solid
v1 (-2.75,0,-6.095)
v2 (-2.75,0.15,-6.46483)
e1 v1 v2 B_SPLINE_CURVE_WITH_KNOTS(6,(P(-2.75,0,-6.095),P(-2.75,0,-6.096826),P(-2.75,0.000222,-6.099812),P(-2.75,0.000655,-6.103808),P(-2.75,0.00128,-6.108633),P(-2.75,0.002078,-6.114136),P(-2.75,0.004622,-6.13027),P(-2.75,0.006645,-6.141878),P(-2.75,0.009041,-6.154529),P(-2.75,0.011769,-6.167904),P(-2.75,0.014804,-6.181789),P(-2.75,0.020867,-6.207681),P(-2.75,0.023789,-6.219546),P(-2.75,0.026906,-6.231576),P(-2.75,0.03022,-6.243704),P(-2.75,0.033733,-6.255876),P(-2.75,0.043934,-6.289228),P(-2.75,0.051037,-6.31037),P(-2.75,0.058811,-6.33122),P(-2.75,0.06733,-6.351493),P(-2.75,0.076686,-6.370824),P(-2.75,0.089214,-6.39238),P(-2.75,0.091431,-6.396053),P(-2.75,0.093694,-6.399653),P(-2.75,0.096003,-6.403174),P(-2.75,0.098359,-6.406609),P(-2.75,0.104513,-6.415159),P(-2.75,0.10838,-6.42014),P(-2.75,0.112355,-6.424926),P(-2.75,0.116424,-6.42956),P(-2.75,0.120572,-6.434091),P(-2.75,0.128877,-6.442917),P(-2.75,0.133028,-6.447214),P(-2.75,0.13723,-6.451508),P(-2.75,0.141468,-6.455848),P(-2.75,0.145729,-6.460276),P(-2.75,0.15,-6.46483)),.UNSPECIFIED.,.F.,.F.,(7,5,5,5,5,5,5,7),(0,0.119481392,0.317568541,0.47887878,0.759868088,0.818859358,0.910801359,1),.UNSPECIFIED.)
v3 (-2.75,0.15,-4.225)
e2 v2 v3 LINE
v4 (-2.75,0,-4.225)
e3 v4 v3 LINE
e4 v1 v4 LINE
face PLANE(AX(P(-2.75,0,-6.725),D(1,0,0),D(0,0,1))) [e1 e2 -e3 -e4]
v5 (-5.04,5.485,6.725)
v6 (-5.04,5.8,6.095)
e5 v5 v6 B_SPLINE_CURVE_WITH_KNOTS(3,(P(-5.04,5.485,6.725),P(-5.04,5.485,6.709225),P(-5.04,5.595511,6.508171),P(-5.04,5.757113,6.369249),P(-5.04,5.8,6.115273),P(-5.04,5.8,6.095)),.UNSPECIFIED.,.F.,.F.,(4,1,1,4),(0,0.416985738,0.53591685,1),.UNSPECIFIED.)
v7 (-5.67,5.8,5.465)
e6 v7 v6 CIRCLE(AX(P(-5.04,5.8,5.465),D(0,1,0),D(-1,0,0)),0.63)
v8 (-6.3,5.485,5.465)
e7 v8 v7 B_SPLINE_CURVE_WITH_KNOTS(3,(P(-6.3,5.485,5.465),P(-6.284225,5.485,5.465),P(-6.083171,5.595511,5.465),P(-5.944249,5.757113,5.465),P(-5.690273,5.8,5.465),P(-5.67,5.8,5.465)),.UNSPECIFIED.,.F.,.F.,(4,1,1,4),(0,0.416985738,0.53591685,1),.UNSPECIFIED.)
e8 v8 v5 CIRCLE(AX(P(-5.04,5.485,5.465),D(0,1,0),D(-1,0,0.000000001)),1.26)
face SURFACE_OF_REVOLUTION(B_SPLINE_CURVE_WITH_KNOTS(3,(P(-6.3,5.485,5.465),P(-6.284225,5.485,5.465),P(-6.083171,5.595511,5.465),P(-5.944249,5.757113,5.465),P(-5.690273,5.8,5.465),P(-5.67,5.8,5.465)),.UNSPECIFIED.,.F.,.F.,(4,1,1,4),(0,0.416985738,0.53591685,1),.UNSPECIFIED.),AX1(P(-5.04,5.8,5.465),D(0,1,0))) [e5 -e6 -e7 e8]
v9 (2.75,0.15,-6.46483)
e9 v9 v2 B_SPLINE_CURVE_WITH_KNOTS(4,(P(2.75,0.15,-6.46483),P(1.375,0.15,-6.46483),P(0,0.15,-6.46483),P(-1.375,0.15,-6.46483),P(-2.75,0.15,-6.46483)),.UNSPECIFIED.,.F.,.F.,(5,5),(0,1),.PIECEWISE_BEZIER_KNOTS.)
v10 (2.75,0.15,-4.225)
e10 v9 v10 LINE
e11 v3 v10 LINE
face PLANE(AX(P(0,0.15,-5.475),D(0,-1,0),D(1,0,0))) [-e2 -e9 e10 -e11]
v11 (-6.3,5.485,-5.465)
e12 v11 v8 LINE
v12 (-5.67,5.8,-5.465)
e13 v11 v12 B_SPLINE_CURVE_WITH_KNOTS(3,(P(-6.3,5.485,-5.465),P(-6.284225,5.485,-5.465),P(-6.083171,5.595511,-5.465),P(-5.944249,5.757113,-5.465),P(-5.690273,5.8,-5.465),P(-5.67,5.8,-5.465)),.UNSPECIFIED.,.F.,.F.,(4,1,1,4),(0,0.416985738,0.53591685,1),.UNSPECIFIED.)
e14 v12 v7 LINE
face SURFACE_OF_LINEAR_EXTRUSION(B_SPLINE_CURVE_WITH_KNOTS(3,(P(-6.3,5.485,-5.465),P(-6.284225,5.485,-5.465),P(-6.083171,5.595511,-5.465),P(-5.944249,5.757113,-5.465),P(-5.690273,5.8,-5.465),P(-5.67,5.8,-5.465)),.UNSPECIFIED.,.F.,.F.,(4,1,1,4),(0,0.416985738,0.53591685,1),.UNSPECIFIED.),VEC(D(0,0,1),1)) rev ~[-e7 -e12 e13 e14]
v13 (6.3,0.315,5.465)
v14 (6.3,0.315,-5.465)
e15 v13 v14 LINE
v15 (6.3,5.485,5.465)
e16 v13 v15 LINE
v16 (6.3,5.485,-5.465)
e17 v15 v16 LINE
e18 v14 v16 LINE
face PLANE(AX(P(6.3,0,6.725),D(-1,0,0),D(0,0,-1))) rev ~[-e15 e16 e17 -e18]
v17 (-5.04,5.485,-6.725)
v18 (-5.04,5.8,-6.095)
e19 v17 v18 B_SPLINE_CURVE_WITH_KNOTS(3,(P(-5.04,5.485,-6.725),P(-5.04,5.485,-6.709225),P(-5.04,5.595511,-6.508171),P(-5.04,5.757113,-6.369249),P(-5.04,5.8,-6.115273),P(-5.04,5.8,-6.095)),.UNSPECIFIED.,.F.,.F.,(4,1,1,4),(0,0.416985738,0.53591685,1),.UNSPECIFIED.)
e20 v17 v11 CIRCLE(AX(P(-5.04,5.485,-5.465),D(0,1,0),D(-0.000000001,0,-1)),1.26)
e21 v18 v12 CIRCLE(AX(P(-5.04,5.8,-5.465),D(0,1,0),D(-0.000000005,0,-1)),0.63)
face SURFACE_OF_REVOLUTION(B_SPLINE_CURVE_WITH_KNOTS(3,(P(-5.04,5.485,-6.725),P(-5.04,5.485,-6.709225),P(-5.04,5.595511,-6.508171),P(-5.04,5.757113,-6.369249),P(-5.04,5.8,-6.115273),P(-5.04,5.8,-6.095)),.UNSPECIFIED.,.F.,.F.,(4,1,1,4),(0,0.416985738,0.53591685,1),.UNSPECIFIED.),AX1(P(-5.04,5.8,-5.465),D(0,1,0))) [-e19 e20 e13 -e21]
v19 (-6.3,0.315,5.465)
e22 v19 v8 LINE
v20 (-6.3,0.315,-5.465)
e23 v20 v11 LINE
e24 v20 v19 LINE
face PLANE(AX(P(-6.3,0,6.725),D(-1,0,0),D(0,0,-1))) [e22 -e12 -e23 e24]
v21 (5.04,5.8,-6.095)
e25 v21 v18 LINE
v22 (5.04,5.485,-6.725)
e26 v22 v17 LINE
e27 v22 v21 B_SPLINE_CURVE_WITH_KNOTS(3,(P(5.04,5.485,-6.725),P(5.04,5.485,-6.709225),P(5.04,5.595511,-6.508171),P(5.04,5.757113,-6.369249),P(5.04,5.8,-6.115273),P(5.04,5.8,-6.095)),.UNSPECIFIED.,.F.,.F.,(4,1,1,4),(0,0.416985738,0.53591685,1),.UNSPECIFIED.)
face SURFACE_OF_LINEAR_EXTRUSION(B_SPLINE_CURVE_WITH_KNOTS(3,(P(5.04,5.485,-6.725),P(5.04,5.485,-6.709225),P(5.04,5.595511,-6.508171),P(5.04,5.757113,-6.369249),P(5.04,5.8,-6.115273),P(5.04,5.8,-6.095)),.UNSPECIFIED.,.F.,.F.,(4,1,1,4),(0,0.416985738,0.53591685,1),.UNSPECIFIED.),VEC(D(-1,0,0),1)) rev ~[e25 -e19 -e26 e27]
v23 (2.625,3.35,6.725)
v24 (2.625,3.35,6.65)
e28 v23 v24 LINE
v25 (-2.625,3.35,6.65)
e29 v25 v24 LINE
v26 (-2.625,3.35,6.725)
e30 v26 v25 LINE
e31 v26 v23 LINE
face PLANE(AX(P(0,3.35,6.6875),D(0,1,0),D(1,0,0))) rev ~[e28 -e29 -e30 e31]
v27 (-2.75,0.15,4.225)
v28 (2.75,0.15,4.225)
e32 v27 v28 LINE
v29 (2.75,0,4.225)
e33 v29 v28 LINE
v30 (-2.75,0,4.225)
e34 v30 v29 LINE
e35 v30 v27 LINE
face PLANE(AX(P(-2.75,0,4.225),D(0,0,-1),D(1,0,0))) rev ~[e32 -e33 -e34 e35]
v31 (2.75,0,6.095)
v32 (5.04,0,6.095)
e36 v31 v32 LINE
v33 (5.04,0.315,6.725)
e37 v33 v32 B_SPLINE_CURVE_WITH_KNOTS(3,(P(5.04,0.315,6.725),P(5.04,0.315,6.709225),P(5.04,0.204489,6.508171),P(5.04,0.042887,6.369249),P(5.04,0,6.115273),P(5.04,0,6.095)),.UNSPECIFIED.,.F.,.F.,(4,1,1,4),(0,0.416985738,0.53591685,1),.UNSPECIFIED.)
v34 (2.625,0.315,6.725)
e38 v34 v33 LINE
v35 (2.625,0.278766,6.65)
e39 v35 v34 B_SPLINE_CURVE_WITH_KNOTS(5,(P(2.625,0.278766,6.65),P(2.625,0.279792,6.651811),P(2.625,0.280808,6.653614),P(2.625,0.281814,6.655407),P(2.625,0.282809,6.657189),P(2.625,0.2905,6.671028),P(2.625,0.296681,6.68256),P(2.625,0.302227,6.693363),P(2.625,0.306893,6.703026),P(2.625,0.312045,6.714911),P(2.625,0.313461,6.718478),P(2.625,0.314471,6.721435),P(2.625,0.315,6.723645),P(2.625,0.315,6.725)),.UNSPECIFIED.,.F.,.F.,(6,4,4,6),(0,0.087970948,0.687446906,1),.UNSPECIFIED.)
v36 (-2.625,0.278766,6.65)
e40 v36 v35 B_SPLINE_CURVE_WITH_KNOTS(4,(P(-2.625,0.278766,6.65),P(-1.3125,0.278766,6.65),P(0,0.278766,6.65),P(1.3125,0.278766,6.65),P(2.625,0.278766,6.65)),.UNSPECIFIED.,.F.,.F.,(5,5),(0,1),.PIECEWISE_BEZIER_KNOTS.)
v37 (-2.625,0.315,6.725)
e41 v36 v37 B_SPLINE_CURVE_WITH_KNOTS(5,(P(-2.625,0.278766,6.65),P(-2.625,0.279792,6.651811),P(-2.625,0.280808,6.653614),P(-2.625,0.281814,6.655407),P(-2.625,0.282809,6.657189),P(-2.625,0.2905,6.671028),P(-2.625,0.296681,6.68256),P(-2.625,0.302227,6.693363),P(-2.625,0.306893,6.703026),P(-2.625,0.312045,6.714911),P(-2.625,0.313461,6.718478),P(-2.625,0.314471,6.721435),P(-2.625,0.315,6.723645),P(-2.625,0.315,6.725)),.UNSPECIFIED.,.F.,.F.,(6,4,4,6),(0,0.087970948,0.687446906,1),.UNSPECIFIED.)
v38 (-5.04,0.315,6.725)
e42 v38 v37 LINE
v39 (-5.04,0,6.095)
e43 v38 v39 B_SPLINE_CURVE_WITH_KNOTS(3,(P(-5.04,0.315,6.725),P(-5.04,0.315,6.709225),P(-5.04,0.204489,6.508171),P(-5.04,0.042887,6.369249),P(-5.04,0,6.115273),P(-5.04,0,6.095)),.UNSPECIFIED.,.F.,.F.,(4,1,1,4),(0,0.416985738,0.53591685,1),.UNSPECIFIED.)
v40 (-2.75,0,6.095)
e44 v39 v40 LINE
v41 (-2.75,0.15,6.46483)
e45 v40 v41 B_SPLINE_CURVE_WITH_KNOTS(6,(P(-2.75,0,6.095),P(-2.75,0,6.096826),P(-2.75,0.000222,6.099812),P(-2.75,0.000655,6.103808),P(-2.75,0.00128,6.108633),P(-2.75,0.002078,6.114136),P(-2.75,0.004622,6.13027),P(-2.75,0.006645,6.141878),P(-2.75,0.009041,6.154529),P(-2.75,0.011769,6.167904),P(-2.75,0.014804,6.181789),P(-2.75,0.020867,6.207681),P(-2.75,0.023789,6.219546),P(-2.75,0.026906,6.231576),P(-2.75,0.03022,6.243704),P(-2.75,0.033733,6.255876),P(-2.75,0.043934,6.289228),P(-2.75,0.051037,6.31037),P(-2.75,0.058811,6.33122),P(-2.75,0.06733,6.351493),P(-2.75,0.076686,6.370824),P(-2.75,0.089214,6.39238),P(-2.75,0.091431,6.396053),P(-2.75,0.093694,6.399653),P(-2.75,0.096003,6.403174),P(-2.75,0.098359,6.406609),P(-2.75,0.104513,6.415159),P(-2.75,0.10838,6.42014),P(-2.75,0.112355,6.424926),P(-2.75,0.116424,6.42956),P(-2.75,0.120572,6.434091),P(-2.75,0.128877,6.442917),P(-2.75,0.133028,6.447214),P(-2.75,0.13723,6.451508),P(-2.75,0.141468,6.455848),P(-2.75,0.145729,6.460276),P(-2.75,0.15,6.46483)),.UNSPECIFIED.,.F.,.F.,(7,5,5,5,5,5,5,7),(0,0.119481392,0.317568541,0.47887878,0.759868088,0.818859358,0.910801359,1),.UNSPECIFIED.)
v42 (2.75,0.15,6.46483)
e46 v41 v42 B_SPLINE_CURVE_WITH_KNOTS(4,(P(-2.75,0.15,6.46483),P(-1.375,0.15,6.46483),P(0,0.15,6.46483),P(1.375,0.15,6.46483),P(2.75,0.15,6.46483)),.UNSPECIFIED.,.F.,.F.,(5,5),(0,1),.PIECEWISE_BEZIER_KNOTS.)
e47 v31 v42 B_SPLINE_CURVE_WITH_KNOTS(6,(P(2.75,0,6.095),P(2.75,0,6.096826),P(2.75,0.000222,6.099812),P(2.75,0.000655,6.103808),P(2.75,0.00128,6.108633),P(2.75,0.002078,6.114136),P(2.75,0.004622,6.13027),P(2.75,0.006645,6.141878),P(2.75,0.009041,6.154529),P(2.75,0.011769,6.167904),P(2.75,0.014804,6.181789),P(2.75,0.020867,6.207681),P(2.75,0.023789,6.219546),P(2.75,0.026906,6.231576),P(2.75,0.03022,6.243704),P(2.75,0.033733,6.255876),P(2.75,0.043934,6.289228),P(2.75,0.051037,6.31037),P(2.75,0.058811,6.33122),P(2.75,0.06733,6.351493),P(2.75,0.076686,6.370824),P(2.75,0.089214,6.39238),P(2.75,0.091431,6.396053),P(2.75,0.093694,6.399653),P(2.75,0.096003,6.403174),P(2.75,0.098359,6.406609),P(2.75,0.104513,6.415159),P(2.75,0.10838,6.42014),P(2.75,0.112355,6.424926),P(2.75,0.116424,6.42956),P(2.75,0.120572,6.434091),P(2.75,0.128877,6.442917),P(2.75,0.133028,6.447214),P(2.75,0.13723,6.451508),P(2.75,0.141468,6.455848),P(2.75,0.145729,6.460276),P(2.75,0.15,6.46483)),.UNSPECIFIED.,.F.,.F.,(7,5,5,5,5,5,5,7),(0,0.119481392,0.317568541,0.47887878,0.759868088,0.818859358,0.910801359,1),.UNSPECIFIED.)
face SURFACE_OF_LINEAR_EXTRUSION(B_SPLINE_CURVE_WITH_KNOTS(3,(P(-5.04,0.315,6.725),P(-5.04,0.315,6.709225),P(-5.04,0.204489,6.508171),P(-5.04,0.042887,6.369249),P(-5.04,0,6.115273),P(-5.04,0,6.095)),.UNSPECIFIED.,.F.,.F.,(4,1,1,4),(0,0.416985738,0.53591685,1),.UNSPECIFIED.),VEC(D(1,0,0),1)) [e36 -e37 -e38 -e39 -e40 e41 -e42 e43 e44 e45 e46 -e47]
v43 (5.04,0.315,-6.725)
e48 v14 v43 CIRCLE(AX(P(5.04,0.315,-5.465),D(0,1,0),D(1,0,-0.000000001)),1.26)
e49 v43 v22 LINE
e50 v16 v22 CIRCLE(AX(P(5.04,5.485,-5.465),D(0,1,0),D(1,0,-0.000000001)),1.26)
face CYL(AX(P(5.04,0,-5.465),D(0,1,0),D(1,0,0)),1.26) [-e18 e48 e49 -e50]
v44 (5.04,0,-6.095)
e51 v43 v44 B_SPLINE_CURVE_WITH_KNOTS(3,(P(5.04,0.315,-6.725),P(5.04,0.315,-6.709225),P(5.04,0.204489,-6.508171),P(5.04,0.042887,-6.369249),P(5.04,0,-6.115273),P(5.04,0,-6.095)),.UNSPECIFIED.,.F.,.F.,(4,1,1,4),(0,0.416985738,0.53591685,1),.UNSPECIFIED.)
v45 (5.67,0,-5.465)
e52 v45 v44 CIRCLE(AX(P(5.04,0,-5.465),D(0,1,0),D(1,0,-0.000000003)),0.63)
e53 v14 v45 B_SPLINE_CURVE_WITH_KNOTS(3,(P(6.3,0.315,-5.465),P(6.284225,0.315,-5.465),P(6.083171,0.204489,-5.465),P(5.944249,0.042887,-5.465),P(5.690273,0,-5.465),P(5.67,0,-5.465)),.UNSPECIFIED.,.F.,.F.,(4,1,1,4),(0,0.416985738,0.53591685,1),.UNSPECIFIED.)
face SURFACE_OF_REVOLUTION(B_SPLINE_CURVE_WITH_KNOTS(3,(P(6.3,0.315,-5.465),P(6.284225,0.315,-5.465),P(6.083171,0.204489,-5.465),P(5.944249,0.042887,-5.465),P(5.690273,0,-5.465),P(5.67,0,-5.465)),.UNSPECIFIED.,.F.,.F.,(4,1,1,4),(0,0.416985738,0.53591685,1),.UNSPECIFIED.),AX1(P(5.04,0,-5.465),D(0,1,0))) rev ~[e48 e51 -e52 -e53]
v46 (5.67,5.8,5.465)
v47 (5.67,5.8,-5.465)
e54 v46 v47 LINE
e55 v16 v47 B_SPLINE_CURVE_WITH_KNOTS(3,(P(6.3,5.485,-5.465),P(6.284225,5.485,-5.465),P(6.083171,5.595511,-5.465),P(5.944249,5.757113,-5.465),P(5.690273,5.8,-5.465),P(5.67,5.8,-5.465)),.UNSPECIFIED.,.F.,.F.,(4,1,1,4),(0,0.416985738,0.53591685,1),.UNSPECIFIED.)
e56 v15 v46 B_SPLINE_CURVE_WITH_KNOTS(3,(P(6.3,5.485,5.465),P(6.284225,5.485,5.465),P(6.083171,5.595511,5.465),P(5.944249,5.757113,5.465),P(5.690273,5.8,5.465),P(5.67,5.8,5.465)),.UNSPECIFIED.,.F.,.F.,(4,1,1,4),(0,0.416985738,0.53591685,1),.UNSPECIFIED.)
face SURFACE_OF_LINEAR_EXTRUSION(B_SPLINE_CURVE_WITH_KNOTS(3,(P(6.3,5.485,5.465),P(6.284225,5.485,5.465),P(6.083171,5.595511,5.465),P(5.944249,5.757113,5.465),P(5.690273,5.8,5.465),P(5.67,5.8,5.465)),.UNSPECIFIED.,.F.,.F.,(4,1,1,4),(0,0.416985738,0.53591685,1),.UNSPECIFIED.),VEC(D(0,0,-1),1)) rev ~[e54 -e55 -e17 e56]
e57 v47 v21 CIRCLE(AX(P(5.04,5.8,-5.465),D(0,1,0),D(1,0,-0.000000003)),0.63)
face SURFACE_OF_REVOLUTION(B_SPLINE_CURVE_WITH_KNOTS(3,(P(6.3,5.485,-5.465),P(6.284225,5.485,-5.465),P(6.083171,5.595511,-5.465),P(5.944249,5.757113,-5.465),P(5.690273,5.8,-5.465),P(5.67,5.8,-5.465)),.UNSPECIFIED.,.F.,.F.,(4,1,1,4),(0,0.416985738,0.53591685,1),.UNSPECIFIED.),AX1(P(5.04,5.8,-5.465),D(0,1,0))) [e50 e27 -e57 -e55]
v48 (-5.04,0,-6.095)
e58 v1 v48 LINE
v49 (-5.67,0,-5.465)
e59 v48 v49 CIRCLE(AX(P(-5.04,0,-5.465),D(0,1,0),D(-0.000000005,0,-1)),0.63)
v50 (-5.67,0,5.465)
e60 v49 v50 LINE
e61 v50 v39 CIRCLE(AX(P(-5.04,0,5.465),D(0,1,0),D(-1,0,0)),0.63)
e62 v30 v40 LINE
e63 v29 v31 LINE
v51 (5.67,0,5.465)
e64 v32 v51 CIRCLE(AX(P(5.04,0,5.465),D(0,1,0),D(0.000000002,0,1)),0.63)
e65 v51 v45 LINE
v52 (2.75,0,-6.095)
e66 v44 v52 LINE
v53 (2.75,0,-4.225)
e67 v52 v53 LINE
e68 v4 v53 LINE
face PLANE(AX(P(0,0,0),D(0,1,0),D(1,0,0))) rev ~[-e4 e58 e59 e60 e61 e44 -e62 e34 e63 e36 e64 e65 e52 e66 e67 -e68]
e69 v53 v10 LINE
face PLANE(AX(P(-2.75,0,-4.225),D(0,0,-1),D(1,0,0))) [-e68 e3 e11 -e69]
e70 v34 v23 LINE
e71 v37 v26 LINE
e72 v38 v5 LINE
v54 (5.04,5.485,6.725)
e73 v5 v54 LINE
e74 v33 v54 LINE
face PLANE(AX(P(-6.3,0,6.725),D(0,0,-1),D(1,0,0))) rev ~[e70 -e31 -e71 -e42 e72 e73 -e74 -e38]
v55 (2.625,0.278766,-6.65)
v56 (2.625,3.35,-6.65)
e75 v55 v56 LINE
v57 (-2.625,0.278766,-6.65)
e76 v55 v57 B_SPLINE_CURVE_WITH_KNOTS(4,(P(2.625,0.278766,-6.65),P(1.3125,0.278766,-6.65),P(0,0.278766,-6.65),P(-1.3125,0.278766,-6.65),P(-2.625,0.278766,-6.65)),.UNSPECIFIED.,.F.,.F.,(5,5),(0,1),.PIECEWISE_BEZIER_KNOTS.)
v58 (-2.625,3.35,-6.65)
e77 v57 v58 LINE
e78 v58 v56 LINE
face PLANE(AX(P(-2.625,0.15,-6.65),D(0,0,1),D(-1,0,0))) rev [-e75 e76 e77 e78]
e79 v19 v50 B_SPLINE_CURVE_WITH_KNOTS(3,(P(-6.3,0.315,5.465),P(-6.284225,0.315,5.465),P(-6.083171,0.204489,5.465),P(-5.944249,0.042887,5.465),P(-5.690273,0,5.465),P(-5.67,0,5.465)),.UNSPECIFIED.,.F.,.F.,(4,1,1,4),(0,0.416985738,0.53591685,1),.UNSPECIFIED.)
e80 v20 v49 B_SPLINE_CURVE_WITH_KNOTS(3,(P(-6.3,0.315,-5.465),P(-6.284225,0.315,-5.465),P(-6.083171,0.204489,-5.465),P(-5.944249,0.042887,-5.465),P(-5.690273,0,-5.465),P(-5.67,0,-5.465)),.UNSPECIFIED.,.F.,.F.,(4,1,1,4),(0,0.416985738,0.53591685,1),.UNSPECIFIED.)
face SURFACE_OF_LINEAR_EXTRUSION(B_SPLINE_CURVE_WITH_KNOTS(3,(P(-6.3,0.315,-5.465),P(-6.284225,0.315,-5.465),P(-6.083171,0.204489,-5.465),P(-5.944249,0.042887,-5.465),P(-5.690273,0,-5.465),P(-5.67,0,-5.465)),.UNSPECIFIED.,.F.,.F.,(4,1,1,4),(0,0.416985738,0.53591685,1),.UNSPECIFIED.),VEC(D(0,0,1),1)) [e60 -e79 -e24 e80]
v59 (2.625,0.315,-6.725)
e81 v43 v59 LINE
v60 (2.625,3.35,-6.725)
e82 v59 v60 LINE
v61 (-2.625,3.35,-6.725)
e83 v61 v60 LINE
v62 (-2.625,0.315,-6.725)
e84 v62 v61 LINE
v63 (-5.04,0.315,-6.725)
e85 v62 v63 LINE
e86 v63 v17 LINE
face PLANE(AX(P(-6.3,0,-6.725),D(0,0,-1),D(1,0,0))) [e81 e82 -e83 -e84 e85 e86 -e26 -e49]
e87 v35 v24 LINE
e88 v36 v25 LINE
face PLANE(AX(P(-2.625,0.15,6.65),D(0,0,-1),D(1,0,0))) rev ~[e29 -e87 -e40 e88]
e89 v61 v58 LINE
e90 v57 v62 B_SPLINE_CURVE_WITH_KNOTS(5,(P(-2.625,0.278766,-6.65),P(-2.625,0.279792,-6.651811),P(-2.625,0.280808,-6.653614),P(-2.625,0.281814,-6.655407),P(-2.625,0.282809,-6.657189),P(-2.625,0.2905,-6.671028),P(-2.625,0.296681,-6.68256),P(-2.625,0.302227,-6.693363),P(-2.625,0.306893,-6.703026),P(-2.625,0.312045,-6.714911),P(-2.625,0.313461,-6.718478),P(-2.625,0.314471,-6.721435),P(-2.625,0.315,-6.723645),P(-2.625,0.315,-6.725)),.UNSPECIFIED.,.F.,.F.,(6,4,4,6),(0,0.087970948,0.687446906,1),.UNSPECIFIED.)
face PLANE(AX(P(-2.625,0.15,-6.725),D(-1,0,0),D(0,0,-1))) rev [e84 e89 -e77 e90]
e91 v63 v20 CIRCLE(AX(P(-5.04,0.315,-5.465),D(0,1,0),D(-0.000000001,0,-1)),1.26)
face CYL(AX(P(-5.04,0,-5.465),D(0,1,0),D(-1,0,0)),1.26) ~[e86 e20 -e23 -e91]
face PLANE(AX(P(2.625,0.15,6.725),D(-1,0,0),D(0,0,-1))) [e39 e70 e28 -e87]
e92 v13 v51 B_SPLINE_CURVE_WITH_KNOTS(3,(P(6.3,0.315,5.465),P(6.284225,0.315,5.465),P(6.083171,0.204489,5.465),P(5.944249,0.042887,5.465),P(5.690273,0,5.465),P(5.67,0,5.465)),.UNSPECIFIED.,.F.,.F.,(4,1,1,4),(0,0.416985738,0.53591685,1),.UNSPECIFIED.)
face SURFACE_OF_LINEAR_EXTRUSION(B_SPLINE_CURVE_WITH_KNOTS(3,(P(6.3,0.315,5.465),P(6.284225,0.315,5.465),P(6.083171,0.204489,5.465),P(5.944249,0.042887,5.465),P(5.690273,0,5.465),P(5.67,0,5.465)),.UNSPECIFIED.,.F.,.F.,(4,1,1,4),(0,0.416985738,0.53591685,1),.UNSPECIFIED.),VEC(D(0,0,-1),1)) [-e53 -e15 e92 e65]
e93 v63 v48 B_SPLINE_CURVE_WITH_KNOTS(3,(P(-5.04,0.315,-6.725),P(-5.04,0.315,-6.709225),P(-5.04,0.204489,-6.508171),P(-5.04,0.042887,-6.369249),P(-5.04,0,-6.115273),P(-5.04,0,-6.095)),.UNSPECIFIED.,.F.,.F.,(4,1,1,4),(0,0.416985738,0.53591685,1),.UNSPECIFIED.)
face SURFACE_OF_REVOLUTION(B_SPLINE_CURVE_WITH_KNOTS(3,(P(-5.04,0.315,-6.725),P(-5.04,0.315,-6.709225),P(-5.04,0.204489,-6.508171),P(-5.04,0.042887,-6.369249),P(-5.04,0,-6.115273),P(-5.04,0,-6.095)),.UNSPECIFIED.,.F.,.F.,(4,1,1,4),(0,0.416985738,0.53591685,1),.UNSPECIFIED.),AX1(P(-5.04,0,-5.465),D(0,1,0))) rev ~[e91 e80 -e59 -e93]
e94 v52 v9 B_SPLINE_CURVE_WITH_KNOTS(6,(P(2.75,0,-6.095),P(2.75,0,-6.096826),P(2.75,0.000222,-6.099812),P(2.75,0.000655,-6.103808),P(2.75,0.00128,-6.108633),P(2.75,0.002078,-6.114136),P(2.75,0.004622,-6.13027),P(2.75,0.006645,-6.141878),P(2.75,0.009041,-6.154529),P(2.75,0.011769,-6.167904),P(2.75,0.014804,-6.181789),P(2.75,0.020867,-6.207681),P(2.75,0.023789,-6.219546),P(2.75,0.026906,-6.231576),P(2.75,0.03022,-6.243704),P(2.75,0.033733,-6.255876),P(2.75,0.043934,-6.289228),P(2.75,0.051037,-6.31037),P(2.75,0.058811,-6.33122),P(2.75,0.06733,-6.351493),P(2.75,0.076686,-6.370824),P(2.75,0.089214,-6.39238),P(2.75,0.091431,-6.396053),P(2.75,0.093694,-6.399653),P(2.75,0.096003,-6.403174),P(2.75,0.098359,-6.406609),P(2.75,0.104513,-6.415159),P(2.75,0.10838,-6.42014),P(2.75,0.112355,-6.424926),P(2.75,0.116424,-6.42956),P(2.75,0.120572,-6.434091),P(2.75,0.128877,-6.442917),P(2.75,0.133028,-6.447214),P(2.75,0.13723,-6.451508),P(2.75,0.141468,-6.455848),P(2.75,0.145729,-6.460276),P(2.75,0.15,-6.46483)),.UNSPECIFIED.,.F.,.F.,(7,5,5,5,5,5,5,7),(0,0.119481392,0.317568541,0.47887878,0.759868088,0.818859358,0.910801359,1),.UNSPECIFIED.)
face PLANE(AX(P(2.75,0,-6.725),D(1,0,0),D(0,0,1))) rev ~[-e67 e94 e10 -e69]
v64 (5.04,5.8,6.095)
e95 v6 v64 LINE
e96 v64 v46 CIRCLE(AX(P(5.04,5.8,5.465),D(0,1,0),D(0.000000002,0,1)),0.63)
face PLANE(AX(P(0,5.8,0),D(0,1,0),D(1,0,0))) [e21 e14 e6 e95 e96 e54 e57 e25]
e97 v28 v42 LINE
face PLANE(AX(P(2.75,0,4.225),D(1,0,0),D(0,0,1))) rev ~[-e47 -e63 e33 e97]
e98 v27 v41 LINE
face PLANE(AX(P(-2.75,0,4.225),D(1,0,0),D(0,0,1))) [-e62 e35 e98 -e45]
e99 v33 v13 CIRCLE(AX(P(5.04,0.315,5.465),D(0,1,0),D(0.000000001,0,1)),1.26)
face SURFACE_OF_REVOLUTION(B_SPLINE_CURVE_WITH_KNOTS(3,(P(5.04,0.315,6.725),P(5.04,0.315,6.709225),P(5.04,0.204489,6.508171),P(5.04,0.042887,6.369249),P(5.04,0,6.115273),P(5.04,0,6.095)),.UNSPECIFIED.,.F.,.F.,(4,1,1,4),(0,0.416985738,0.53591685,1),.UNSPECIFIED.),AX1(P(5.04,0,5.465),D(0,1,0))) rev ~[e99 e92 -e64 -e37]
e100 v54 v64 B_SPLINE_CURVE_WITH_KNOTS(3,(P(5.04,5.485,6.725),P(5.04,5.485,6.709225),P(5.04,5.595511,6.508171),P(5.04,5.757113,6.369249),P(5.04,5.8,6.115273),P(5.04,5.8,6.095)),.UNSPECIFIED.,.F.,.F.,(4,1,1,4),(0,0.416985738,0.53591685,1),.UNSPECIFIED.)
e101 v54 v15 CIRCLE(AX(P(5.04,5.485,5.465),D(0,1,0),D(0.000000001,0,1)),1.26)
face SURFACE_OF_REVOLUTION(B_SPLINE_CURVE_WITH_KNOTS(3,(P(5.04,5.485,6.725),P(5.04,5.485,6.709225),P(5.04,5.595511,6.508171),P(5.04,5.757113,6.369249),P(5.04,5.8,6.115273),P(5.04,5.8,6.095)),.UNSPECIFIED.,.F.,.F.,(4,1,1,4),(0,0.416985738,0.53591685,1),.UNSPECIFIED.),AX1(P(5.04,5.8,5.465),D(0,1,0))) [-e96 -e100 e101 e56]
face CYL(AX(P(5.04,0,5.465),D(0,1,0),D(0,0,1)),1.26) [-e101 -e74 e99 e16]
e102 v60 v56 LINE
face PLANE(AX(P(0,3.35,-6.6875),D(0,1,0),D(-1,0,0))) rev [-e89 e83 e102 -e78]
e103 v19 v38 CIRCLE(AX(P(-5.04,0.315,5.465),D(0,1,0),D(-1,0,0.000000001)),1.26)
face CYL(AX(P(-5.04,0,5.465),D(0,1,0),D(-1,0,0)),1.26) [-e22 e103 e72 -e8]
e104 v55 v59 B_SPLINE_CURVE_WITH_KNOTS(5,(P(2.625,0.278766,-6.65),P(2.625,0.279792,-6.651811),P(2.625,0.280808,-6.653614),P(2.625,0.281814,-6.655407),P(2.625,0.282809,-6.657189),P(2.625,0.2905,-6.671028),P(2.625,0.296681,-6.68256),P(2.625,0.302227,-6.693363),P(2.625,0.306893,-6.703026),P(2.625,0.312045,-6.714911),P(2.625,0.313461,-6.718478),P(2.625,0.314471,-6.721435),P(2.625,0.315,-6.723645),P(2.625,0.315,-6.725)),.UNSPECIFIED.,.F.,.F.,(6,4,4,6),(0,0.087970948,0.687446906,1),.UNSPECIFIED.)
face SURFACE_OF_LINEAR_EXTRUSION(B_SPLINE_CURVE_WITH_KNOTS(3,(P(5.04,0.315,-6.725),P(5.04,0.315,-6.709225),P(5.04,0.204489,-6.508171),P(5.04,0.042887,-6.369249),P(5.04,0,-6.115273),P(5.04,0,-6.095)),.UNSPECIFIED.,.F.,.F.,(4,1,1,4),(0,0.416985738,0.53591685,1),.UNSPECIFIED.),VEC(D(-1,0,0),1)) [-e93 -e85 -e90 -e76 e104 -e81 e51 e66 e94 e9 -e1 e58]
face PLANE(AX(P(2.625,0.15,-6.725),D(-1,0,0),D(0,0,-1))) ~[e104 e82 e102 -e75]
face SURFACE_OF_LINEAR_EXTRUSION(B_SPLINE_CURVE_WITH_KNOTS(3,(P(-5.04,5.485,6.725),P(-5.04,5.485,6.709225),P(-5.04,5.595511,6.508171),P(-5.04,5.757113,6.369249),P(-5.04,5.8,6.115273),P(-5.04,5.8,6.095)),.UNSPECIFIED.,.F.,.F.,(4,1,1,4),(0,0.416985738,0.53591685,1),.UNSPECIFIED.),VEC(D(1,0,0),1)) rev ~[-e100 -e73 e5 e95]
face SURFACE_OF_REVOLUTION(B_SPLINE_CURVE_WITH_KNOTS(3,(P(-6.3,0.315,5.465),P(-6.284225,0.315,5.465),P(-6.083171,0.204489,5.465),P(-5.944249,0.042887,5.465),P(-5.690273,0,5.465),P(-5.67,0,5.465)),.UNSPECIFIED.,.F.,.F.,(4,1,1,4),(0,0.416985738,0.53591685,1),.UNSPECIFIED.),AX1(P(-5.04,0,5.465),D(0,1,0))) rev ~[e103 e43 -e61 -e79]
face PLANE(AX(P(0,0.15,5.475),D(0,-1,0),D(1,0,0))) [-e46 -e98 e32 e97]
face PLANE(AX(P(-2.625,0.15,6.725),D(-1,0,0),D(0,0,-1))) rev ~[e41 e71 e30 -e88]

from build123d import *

# Parameters (mm, degrees)
SKETCH_1_W          = 12.6
SKETCH_1_H          = 13.45
EXTRUDE_1_DEPTH     = 5.8
FILLET_1_R          = 1.26
SKETCH_2_W          = 5.5
SKETCH_2_H          = 2.5
CUT_EXTRUDE_1_DEPTH = 0.15
SKETCH_4_W          = 5.25
SKETCH_4_H          = 0.075
CUT_EXTRUDE_2_DEPTH = 3.2


with BuildPart() as part:
    # 草图1 → 凸台-拉伸1 (new body)
    with BuildSketch(Plane(origin=(0, 0, 0), x_dir=(1, 0, 0), z_dir=(0, 1, 0))):
        Rectangle(SKETCH_1_W, SKETCH_1_H)
    extrude(amount=EXTRUDE_1_DEPTH)

    # 圆角1
    fillet_1_edges = [part.edges().sort_by_distance(p)[0] for p in [
        (6.3, 2.9, 6.725),
        (-6.3, 2.9, 6.725),
        (-6.3, 2.9, -6.725),
        (6.3, 2.9, -6.725),
    ]]
    fillet(fillet_1_edges, radius=FILLET_1_R)

    # 草图2 → 切除-拉伸1 (cut)
    with BuildSketch(Plane.XZ):
        with Locations((0, 5.475)):
            Rectangle(SKETCH_2_W, SKETCH_2_H)
        with Locations((0, -5.475)):
            Rectangle(SKETCH_2_W, SKETCH_2_H)
    extrude(amount=-CUT_EXTRUDE_1_DEPTH, mode=Mode.SUBTRACT)

    # 切除-扫描1: sweep along a curve in space
    with BuildLine() as sweep_1_path:
        ThreePointArc((-6.3, 5.8, 5.465), (-5.930954544, 5.8, 6.355954544), (-5.04, 5.8, 6.725))
        Line((-5.04, 5.8, 6.725), (5.04, 5.8, 6.725))
        ThreePointArc((5.04, 5.8, 6.725), (5.930954544, 5.8, 6.355954544), (6.3, 5.8, 5.465))
        Line((6.3, 5.8, 5.465), (6.3, 5.8, -5.465))
        ThreePointArc((6.3, 5.8, -5.465), (5.930954544, 5.8, -6.355954544), (5.04, 5.8, -6.725))
        Line((5.04, 5.8, -6.725), (-5.04, 5.8, -6.725))
        ThreePointArc((-5.04, 5.8, -6.725), (-5.930954544, 5.8, -6.355954544), (-6.3, 5.8, -5.465))
        Line((-6.3, 5.8, -5.465), (-6.3, 5.8, 5.465))
    # 草图3 → 切除-扫描1 (sweep, cut)
    with BuildSketch(Plane(origin=(-5.04, 0, 0), x_dir=(0, 0, -1), z_dir=(1, 0, 0))):
        with BuildLine():
            Line((-6.095, 5.8), (-6.725, 5.8))
            Line((-6.725, 5.8), (-6.725, 5.485))
            add(Edge.make_bspline(
                [(-6.095, 5.8), (-6.115272631, 5.8), (-6.369249056, 5.757113449), (-6.508171408, 5.59551094), (-6.709225012, 5.485), (-6.725, 5.485)],
                knots=[0, 0, 0, 0, 0.46408315, 0.583014262, 1, 1, 1, 1], degree=3))
        make_face()
    sweep_1 = sweep(path=sweep_1_path.line, mode=Mode.SUBTRACT)

    # 镜向1: 切除-扫描1 across plane
    add(sweep_1.mirror(Plane.ZX.offset(2.9)), mode=Mode.SUBTRACT)

    # 草图4 → 切除-拉伸2 (cut)
    with BuildSketch(Plane(origin=(0, 0.15, 0), x_dir=(1, 0, 0), z_dir=(0, 1, 0))):
        with Locations((0, -6.6875)):
            Rectangle(SKETCH_4_W, SKETCH_4_H)
    cut_extrude_2 = extrude(amount=CUT_EXTRUDE_2_DEPTH, mode=Mode.SUBTRACT)

    # 镜向2: 切除-拉伸2 across plane
    add(cut_extrude_2.mirror(Plane.XY), mode=Mode.SUBTRACT)


solid = part.part
